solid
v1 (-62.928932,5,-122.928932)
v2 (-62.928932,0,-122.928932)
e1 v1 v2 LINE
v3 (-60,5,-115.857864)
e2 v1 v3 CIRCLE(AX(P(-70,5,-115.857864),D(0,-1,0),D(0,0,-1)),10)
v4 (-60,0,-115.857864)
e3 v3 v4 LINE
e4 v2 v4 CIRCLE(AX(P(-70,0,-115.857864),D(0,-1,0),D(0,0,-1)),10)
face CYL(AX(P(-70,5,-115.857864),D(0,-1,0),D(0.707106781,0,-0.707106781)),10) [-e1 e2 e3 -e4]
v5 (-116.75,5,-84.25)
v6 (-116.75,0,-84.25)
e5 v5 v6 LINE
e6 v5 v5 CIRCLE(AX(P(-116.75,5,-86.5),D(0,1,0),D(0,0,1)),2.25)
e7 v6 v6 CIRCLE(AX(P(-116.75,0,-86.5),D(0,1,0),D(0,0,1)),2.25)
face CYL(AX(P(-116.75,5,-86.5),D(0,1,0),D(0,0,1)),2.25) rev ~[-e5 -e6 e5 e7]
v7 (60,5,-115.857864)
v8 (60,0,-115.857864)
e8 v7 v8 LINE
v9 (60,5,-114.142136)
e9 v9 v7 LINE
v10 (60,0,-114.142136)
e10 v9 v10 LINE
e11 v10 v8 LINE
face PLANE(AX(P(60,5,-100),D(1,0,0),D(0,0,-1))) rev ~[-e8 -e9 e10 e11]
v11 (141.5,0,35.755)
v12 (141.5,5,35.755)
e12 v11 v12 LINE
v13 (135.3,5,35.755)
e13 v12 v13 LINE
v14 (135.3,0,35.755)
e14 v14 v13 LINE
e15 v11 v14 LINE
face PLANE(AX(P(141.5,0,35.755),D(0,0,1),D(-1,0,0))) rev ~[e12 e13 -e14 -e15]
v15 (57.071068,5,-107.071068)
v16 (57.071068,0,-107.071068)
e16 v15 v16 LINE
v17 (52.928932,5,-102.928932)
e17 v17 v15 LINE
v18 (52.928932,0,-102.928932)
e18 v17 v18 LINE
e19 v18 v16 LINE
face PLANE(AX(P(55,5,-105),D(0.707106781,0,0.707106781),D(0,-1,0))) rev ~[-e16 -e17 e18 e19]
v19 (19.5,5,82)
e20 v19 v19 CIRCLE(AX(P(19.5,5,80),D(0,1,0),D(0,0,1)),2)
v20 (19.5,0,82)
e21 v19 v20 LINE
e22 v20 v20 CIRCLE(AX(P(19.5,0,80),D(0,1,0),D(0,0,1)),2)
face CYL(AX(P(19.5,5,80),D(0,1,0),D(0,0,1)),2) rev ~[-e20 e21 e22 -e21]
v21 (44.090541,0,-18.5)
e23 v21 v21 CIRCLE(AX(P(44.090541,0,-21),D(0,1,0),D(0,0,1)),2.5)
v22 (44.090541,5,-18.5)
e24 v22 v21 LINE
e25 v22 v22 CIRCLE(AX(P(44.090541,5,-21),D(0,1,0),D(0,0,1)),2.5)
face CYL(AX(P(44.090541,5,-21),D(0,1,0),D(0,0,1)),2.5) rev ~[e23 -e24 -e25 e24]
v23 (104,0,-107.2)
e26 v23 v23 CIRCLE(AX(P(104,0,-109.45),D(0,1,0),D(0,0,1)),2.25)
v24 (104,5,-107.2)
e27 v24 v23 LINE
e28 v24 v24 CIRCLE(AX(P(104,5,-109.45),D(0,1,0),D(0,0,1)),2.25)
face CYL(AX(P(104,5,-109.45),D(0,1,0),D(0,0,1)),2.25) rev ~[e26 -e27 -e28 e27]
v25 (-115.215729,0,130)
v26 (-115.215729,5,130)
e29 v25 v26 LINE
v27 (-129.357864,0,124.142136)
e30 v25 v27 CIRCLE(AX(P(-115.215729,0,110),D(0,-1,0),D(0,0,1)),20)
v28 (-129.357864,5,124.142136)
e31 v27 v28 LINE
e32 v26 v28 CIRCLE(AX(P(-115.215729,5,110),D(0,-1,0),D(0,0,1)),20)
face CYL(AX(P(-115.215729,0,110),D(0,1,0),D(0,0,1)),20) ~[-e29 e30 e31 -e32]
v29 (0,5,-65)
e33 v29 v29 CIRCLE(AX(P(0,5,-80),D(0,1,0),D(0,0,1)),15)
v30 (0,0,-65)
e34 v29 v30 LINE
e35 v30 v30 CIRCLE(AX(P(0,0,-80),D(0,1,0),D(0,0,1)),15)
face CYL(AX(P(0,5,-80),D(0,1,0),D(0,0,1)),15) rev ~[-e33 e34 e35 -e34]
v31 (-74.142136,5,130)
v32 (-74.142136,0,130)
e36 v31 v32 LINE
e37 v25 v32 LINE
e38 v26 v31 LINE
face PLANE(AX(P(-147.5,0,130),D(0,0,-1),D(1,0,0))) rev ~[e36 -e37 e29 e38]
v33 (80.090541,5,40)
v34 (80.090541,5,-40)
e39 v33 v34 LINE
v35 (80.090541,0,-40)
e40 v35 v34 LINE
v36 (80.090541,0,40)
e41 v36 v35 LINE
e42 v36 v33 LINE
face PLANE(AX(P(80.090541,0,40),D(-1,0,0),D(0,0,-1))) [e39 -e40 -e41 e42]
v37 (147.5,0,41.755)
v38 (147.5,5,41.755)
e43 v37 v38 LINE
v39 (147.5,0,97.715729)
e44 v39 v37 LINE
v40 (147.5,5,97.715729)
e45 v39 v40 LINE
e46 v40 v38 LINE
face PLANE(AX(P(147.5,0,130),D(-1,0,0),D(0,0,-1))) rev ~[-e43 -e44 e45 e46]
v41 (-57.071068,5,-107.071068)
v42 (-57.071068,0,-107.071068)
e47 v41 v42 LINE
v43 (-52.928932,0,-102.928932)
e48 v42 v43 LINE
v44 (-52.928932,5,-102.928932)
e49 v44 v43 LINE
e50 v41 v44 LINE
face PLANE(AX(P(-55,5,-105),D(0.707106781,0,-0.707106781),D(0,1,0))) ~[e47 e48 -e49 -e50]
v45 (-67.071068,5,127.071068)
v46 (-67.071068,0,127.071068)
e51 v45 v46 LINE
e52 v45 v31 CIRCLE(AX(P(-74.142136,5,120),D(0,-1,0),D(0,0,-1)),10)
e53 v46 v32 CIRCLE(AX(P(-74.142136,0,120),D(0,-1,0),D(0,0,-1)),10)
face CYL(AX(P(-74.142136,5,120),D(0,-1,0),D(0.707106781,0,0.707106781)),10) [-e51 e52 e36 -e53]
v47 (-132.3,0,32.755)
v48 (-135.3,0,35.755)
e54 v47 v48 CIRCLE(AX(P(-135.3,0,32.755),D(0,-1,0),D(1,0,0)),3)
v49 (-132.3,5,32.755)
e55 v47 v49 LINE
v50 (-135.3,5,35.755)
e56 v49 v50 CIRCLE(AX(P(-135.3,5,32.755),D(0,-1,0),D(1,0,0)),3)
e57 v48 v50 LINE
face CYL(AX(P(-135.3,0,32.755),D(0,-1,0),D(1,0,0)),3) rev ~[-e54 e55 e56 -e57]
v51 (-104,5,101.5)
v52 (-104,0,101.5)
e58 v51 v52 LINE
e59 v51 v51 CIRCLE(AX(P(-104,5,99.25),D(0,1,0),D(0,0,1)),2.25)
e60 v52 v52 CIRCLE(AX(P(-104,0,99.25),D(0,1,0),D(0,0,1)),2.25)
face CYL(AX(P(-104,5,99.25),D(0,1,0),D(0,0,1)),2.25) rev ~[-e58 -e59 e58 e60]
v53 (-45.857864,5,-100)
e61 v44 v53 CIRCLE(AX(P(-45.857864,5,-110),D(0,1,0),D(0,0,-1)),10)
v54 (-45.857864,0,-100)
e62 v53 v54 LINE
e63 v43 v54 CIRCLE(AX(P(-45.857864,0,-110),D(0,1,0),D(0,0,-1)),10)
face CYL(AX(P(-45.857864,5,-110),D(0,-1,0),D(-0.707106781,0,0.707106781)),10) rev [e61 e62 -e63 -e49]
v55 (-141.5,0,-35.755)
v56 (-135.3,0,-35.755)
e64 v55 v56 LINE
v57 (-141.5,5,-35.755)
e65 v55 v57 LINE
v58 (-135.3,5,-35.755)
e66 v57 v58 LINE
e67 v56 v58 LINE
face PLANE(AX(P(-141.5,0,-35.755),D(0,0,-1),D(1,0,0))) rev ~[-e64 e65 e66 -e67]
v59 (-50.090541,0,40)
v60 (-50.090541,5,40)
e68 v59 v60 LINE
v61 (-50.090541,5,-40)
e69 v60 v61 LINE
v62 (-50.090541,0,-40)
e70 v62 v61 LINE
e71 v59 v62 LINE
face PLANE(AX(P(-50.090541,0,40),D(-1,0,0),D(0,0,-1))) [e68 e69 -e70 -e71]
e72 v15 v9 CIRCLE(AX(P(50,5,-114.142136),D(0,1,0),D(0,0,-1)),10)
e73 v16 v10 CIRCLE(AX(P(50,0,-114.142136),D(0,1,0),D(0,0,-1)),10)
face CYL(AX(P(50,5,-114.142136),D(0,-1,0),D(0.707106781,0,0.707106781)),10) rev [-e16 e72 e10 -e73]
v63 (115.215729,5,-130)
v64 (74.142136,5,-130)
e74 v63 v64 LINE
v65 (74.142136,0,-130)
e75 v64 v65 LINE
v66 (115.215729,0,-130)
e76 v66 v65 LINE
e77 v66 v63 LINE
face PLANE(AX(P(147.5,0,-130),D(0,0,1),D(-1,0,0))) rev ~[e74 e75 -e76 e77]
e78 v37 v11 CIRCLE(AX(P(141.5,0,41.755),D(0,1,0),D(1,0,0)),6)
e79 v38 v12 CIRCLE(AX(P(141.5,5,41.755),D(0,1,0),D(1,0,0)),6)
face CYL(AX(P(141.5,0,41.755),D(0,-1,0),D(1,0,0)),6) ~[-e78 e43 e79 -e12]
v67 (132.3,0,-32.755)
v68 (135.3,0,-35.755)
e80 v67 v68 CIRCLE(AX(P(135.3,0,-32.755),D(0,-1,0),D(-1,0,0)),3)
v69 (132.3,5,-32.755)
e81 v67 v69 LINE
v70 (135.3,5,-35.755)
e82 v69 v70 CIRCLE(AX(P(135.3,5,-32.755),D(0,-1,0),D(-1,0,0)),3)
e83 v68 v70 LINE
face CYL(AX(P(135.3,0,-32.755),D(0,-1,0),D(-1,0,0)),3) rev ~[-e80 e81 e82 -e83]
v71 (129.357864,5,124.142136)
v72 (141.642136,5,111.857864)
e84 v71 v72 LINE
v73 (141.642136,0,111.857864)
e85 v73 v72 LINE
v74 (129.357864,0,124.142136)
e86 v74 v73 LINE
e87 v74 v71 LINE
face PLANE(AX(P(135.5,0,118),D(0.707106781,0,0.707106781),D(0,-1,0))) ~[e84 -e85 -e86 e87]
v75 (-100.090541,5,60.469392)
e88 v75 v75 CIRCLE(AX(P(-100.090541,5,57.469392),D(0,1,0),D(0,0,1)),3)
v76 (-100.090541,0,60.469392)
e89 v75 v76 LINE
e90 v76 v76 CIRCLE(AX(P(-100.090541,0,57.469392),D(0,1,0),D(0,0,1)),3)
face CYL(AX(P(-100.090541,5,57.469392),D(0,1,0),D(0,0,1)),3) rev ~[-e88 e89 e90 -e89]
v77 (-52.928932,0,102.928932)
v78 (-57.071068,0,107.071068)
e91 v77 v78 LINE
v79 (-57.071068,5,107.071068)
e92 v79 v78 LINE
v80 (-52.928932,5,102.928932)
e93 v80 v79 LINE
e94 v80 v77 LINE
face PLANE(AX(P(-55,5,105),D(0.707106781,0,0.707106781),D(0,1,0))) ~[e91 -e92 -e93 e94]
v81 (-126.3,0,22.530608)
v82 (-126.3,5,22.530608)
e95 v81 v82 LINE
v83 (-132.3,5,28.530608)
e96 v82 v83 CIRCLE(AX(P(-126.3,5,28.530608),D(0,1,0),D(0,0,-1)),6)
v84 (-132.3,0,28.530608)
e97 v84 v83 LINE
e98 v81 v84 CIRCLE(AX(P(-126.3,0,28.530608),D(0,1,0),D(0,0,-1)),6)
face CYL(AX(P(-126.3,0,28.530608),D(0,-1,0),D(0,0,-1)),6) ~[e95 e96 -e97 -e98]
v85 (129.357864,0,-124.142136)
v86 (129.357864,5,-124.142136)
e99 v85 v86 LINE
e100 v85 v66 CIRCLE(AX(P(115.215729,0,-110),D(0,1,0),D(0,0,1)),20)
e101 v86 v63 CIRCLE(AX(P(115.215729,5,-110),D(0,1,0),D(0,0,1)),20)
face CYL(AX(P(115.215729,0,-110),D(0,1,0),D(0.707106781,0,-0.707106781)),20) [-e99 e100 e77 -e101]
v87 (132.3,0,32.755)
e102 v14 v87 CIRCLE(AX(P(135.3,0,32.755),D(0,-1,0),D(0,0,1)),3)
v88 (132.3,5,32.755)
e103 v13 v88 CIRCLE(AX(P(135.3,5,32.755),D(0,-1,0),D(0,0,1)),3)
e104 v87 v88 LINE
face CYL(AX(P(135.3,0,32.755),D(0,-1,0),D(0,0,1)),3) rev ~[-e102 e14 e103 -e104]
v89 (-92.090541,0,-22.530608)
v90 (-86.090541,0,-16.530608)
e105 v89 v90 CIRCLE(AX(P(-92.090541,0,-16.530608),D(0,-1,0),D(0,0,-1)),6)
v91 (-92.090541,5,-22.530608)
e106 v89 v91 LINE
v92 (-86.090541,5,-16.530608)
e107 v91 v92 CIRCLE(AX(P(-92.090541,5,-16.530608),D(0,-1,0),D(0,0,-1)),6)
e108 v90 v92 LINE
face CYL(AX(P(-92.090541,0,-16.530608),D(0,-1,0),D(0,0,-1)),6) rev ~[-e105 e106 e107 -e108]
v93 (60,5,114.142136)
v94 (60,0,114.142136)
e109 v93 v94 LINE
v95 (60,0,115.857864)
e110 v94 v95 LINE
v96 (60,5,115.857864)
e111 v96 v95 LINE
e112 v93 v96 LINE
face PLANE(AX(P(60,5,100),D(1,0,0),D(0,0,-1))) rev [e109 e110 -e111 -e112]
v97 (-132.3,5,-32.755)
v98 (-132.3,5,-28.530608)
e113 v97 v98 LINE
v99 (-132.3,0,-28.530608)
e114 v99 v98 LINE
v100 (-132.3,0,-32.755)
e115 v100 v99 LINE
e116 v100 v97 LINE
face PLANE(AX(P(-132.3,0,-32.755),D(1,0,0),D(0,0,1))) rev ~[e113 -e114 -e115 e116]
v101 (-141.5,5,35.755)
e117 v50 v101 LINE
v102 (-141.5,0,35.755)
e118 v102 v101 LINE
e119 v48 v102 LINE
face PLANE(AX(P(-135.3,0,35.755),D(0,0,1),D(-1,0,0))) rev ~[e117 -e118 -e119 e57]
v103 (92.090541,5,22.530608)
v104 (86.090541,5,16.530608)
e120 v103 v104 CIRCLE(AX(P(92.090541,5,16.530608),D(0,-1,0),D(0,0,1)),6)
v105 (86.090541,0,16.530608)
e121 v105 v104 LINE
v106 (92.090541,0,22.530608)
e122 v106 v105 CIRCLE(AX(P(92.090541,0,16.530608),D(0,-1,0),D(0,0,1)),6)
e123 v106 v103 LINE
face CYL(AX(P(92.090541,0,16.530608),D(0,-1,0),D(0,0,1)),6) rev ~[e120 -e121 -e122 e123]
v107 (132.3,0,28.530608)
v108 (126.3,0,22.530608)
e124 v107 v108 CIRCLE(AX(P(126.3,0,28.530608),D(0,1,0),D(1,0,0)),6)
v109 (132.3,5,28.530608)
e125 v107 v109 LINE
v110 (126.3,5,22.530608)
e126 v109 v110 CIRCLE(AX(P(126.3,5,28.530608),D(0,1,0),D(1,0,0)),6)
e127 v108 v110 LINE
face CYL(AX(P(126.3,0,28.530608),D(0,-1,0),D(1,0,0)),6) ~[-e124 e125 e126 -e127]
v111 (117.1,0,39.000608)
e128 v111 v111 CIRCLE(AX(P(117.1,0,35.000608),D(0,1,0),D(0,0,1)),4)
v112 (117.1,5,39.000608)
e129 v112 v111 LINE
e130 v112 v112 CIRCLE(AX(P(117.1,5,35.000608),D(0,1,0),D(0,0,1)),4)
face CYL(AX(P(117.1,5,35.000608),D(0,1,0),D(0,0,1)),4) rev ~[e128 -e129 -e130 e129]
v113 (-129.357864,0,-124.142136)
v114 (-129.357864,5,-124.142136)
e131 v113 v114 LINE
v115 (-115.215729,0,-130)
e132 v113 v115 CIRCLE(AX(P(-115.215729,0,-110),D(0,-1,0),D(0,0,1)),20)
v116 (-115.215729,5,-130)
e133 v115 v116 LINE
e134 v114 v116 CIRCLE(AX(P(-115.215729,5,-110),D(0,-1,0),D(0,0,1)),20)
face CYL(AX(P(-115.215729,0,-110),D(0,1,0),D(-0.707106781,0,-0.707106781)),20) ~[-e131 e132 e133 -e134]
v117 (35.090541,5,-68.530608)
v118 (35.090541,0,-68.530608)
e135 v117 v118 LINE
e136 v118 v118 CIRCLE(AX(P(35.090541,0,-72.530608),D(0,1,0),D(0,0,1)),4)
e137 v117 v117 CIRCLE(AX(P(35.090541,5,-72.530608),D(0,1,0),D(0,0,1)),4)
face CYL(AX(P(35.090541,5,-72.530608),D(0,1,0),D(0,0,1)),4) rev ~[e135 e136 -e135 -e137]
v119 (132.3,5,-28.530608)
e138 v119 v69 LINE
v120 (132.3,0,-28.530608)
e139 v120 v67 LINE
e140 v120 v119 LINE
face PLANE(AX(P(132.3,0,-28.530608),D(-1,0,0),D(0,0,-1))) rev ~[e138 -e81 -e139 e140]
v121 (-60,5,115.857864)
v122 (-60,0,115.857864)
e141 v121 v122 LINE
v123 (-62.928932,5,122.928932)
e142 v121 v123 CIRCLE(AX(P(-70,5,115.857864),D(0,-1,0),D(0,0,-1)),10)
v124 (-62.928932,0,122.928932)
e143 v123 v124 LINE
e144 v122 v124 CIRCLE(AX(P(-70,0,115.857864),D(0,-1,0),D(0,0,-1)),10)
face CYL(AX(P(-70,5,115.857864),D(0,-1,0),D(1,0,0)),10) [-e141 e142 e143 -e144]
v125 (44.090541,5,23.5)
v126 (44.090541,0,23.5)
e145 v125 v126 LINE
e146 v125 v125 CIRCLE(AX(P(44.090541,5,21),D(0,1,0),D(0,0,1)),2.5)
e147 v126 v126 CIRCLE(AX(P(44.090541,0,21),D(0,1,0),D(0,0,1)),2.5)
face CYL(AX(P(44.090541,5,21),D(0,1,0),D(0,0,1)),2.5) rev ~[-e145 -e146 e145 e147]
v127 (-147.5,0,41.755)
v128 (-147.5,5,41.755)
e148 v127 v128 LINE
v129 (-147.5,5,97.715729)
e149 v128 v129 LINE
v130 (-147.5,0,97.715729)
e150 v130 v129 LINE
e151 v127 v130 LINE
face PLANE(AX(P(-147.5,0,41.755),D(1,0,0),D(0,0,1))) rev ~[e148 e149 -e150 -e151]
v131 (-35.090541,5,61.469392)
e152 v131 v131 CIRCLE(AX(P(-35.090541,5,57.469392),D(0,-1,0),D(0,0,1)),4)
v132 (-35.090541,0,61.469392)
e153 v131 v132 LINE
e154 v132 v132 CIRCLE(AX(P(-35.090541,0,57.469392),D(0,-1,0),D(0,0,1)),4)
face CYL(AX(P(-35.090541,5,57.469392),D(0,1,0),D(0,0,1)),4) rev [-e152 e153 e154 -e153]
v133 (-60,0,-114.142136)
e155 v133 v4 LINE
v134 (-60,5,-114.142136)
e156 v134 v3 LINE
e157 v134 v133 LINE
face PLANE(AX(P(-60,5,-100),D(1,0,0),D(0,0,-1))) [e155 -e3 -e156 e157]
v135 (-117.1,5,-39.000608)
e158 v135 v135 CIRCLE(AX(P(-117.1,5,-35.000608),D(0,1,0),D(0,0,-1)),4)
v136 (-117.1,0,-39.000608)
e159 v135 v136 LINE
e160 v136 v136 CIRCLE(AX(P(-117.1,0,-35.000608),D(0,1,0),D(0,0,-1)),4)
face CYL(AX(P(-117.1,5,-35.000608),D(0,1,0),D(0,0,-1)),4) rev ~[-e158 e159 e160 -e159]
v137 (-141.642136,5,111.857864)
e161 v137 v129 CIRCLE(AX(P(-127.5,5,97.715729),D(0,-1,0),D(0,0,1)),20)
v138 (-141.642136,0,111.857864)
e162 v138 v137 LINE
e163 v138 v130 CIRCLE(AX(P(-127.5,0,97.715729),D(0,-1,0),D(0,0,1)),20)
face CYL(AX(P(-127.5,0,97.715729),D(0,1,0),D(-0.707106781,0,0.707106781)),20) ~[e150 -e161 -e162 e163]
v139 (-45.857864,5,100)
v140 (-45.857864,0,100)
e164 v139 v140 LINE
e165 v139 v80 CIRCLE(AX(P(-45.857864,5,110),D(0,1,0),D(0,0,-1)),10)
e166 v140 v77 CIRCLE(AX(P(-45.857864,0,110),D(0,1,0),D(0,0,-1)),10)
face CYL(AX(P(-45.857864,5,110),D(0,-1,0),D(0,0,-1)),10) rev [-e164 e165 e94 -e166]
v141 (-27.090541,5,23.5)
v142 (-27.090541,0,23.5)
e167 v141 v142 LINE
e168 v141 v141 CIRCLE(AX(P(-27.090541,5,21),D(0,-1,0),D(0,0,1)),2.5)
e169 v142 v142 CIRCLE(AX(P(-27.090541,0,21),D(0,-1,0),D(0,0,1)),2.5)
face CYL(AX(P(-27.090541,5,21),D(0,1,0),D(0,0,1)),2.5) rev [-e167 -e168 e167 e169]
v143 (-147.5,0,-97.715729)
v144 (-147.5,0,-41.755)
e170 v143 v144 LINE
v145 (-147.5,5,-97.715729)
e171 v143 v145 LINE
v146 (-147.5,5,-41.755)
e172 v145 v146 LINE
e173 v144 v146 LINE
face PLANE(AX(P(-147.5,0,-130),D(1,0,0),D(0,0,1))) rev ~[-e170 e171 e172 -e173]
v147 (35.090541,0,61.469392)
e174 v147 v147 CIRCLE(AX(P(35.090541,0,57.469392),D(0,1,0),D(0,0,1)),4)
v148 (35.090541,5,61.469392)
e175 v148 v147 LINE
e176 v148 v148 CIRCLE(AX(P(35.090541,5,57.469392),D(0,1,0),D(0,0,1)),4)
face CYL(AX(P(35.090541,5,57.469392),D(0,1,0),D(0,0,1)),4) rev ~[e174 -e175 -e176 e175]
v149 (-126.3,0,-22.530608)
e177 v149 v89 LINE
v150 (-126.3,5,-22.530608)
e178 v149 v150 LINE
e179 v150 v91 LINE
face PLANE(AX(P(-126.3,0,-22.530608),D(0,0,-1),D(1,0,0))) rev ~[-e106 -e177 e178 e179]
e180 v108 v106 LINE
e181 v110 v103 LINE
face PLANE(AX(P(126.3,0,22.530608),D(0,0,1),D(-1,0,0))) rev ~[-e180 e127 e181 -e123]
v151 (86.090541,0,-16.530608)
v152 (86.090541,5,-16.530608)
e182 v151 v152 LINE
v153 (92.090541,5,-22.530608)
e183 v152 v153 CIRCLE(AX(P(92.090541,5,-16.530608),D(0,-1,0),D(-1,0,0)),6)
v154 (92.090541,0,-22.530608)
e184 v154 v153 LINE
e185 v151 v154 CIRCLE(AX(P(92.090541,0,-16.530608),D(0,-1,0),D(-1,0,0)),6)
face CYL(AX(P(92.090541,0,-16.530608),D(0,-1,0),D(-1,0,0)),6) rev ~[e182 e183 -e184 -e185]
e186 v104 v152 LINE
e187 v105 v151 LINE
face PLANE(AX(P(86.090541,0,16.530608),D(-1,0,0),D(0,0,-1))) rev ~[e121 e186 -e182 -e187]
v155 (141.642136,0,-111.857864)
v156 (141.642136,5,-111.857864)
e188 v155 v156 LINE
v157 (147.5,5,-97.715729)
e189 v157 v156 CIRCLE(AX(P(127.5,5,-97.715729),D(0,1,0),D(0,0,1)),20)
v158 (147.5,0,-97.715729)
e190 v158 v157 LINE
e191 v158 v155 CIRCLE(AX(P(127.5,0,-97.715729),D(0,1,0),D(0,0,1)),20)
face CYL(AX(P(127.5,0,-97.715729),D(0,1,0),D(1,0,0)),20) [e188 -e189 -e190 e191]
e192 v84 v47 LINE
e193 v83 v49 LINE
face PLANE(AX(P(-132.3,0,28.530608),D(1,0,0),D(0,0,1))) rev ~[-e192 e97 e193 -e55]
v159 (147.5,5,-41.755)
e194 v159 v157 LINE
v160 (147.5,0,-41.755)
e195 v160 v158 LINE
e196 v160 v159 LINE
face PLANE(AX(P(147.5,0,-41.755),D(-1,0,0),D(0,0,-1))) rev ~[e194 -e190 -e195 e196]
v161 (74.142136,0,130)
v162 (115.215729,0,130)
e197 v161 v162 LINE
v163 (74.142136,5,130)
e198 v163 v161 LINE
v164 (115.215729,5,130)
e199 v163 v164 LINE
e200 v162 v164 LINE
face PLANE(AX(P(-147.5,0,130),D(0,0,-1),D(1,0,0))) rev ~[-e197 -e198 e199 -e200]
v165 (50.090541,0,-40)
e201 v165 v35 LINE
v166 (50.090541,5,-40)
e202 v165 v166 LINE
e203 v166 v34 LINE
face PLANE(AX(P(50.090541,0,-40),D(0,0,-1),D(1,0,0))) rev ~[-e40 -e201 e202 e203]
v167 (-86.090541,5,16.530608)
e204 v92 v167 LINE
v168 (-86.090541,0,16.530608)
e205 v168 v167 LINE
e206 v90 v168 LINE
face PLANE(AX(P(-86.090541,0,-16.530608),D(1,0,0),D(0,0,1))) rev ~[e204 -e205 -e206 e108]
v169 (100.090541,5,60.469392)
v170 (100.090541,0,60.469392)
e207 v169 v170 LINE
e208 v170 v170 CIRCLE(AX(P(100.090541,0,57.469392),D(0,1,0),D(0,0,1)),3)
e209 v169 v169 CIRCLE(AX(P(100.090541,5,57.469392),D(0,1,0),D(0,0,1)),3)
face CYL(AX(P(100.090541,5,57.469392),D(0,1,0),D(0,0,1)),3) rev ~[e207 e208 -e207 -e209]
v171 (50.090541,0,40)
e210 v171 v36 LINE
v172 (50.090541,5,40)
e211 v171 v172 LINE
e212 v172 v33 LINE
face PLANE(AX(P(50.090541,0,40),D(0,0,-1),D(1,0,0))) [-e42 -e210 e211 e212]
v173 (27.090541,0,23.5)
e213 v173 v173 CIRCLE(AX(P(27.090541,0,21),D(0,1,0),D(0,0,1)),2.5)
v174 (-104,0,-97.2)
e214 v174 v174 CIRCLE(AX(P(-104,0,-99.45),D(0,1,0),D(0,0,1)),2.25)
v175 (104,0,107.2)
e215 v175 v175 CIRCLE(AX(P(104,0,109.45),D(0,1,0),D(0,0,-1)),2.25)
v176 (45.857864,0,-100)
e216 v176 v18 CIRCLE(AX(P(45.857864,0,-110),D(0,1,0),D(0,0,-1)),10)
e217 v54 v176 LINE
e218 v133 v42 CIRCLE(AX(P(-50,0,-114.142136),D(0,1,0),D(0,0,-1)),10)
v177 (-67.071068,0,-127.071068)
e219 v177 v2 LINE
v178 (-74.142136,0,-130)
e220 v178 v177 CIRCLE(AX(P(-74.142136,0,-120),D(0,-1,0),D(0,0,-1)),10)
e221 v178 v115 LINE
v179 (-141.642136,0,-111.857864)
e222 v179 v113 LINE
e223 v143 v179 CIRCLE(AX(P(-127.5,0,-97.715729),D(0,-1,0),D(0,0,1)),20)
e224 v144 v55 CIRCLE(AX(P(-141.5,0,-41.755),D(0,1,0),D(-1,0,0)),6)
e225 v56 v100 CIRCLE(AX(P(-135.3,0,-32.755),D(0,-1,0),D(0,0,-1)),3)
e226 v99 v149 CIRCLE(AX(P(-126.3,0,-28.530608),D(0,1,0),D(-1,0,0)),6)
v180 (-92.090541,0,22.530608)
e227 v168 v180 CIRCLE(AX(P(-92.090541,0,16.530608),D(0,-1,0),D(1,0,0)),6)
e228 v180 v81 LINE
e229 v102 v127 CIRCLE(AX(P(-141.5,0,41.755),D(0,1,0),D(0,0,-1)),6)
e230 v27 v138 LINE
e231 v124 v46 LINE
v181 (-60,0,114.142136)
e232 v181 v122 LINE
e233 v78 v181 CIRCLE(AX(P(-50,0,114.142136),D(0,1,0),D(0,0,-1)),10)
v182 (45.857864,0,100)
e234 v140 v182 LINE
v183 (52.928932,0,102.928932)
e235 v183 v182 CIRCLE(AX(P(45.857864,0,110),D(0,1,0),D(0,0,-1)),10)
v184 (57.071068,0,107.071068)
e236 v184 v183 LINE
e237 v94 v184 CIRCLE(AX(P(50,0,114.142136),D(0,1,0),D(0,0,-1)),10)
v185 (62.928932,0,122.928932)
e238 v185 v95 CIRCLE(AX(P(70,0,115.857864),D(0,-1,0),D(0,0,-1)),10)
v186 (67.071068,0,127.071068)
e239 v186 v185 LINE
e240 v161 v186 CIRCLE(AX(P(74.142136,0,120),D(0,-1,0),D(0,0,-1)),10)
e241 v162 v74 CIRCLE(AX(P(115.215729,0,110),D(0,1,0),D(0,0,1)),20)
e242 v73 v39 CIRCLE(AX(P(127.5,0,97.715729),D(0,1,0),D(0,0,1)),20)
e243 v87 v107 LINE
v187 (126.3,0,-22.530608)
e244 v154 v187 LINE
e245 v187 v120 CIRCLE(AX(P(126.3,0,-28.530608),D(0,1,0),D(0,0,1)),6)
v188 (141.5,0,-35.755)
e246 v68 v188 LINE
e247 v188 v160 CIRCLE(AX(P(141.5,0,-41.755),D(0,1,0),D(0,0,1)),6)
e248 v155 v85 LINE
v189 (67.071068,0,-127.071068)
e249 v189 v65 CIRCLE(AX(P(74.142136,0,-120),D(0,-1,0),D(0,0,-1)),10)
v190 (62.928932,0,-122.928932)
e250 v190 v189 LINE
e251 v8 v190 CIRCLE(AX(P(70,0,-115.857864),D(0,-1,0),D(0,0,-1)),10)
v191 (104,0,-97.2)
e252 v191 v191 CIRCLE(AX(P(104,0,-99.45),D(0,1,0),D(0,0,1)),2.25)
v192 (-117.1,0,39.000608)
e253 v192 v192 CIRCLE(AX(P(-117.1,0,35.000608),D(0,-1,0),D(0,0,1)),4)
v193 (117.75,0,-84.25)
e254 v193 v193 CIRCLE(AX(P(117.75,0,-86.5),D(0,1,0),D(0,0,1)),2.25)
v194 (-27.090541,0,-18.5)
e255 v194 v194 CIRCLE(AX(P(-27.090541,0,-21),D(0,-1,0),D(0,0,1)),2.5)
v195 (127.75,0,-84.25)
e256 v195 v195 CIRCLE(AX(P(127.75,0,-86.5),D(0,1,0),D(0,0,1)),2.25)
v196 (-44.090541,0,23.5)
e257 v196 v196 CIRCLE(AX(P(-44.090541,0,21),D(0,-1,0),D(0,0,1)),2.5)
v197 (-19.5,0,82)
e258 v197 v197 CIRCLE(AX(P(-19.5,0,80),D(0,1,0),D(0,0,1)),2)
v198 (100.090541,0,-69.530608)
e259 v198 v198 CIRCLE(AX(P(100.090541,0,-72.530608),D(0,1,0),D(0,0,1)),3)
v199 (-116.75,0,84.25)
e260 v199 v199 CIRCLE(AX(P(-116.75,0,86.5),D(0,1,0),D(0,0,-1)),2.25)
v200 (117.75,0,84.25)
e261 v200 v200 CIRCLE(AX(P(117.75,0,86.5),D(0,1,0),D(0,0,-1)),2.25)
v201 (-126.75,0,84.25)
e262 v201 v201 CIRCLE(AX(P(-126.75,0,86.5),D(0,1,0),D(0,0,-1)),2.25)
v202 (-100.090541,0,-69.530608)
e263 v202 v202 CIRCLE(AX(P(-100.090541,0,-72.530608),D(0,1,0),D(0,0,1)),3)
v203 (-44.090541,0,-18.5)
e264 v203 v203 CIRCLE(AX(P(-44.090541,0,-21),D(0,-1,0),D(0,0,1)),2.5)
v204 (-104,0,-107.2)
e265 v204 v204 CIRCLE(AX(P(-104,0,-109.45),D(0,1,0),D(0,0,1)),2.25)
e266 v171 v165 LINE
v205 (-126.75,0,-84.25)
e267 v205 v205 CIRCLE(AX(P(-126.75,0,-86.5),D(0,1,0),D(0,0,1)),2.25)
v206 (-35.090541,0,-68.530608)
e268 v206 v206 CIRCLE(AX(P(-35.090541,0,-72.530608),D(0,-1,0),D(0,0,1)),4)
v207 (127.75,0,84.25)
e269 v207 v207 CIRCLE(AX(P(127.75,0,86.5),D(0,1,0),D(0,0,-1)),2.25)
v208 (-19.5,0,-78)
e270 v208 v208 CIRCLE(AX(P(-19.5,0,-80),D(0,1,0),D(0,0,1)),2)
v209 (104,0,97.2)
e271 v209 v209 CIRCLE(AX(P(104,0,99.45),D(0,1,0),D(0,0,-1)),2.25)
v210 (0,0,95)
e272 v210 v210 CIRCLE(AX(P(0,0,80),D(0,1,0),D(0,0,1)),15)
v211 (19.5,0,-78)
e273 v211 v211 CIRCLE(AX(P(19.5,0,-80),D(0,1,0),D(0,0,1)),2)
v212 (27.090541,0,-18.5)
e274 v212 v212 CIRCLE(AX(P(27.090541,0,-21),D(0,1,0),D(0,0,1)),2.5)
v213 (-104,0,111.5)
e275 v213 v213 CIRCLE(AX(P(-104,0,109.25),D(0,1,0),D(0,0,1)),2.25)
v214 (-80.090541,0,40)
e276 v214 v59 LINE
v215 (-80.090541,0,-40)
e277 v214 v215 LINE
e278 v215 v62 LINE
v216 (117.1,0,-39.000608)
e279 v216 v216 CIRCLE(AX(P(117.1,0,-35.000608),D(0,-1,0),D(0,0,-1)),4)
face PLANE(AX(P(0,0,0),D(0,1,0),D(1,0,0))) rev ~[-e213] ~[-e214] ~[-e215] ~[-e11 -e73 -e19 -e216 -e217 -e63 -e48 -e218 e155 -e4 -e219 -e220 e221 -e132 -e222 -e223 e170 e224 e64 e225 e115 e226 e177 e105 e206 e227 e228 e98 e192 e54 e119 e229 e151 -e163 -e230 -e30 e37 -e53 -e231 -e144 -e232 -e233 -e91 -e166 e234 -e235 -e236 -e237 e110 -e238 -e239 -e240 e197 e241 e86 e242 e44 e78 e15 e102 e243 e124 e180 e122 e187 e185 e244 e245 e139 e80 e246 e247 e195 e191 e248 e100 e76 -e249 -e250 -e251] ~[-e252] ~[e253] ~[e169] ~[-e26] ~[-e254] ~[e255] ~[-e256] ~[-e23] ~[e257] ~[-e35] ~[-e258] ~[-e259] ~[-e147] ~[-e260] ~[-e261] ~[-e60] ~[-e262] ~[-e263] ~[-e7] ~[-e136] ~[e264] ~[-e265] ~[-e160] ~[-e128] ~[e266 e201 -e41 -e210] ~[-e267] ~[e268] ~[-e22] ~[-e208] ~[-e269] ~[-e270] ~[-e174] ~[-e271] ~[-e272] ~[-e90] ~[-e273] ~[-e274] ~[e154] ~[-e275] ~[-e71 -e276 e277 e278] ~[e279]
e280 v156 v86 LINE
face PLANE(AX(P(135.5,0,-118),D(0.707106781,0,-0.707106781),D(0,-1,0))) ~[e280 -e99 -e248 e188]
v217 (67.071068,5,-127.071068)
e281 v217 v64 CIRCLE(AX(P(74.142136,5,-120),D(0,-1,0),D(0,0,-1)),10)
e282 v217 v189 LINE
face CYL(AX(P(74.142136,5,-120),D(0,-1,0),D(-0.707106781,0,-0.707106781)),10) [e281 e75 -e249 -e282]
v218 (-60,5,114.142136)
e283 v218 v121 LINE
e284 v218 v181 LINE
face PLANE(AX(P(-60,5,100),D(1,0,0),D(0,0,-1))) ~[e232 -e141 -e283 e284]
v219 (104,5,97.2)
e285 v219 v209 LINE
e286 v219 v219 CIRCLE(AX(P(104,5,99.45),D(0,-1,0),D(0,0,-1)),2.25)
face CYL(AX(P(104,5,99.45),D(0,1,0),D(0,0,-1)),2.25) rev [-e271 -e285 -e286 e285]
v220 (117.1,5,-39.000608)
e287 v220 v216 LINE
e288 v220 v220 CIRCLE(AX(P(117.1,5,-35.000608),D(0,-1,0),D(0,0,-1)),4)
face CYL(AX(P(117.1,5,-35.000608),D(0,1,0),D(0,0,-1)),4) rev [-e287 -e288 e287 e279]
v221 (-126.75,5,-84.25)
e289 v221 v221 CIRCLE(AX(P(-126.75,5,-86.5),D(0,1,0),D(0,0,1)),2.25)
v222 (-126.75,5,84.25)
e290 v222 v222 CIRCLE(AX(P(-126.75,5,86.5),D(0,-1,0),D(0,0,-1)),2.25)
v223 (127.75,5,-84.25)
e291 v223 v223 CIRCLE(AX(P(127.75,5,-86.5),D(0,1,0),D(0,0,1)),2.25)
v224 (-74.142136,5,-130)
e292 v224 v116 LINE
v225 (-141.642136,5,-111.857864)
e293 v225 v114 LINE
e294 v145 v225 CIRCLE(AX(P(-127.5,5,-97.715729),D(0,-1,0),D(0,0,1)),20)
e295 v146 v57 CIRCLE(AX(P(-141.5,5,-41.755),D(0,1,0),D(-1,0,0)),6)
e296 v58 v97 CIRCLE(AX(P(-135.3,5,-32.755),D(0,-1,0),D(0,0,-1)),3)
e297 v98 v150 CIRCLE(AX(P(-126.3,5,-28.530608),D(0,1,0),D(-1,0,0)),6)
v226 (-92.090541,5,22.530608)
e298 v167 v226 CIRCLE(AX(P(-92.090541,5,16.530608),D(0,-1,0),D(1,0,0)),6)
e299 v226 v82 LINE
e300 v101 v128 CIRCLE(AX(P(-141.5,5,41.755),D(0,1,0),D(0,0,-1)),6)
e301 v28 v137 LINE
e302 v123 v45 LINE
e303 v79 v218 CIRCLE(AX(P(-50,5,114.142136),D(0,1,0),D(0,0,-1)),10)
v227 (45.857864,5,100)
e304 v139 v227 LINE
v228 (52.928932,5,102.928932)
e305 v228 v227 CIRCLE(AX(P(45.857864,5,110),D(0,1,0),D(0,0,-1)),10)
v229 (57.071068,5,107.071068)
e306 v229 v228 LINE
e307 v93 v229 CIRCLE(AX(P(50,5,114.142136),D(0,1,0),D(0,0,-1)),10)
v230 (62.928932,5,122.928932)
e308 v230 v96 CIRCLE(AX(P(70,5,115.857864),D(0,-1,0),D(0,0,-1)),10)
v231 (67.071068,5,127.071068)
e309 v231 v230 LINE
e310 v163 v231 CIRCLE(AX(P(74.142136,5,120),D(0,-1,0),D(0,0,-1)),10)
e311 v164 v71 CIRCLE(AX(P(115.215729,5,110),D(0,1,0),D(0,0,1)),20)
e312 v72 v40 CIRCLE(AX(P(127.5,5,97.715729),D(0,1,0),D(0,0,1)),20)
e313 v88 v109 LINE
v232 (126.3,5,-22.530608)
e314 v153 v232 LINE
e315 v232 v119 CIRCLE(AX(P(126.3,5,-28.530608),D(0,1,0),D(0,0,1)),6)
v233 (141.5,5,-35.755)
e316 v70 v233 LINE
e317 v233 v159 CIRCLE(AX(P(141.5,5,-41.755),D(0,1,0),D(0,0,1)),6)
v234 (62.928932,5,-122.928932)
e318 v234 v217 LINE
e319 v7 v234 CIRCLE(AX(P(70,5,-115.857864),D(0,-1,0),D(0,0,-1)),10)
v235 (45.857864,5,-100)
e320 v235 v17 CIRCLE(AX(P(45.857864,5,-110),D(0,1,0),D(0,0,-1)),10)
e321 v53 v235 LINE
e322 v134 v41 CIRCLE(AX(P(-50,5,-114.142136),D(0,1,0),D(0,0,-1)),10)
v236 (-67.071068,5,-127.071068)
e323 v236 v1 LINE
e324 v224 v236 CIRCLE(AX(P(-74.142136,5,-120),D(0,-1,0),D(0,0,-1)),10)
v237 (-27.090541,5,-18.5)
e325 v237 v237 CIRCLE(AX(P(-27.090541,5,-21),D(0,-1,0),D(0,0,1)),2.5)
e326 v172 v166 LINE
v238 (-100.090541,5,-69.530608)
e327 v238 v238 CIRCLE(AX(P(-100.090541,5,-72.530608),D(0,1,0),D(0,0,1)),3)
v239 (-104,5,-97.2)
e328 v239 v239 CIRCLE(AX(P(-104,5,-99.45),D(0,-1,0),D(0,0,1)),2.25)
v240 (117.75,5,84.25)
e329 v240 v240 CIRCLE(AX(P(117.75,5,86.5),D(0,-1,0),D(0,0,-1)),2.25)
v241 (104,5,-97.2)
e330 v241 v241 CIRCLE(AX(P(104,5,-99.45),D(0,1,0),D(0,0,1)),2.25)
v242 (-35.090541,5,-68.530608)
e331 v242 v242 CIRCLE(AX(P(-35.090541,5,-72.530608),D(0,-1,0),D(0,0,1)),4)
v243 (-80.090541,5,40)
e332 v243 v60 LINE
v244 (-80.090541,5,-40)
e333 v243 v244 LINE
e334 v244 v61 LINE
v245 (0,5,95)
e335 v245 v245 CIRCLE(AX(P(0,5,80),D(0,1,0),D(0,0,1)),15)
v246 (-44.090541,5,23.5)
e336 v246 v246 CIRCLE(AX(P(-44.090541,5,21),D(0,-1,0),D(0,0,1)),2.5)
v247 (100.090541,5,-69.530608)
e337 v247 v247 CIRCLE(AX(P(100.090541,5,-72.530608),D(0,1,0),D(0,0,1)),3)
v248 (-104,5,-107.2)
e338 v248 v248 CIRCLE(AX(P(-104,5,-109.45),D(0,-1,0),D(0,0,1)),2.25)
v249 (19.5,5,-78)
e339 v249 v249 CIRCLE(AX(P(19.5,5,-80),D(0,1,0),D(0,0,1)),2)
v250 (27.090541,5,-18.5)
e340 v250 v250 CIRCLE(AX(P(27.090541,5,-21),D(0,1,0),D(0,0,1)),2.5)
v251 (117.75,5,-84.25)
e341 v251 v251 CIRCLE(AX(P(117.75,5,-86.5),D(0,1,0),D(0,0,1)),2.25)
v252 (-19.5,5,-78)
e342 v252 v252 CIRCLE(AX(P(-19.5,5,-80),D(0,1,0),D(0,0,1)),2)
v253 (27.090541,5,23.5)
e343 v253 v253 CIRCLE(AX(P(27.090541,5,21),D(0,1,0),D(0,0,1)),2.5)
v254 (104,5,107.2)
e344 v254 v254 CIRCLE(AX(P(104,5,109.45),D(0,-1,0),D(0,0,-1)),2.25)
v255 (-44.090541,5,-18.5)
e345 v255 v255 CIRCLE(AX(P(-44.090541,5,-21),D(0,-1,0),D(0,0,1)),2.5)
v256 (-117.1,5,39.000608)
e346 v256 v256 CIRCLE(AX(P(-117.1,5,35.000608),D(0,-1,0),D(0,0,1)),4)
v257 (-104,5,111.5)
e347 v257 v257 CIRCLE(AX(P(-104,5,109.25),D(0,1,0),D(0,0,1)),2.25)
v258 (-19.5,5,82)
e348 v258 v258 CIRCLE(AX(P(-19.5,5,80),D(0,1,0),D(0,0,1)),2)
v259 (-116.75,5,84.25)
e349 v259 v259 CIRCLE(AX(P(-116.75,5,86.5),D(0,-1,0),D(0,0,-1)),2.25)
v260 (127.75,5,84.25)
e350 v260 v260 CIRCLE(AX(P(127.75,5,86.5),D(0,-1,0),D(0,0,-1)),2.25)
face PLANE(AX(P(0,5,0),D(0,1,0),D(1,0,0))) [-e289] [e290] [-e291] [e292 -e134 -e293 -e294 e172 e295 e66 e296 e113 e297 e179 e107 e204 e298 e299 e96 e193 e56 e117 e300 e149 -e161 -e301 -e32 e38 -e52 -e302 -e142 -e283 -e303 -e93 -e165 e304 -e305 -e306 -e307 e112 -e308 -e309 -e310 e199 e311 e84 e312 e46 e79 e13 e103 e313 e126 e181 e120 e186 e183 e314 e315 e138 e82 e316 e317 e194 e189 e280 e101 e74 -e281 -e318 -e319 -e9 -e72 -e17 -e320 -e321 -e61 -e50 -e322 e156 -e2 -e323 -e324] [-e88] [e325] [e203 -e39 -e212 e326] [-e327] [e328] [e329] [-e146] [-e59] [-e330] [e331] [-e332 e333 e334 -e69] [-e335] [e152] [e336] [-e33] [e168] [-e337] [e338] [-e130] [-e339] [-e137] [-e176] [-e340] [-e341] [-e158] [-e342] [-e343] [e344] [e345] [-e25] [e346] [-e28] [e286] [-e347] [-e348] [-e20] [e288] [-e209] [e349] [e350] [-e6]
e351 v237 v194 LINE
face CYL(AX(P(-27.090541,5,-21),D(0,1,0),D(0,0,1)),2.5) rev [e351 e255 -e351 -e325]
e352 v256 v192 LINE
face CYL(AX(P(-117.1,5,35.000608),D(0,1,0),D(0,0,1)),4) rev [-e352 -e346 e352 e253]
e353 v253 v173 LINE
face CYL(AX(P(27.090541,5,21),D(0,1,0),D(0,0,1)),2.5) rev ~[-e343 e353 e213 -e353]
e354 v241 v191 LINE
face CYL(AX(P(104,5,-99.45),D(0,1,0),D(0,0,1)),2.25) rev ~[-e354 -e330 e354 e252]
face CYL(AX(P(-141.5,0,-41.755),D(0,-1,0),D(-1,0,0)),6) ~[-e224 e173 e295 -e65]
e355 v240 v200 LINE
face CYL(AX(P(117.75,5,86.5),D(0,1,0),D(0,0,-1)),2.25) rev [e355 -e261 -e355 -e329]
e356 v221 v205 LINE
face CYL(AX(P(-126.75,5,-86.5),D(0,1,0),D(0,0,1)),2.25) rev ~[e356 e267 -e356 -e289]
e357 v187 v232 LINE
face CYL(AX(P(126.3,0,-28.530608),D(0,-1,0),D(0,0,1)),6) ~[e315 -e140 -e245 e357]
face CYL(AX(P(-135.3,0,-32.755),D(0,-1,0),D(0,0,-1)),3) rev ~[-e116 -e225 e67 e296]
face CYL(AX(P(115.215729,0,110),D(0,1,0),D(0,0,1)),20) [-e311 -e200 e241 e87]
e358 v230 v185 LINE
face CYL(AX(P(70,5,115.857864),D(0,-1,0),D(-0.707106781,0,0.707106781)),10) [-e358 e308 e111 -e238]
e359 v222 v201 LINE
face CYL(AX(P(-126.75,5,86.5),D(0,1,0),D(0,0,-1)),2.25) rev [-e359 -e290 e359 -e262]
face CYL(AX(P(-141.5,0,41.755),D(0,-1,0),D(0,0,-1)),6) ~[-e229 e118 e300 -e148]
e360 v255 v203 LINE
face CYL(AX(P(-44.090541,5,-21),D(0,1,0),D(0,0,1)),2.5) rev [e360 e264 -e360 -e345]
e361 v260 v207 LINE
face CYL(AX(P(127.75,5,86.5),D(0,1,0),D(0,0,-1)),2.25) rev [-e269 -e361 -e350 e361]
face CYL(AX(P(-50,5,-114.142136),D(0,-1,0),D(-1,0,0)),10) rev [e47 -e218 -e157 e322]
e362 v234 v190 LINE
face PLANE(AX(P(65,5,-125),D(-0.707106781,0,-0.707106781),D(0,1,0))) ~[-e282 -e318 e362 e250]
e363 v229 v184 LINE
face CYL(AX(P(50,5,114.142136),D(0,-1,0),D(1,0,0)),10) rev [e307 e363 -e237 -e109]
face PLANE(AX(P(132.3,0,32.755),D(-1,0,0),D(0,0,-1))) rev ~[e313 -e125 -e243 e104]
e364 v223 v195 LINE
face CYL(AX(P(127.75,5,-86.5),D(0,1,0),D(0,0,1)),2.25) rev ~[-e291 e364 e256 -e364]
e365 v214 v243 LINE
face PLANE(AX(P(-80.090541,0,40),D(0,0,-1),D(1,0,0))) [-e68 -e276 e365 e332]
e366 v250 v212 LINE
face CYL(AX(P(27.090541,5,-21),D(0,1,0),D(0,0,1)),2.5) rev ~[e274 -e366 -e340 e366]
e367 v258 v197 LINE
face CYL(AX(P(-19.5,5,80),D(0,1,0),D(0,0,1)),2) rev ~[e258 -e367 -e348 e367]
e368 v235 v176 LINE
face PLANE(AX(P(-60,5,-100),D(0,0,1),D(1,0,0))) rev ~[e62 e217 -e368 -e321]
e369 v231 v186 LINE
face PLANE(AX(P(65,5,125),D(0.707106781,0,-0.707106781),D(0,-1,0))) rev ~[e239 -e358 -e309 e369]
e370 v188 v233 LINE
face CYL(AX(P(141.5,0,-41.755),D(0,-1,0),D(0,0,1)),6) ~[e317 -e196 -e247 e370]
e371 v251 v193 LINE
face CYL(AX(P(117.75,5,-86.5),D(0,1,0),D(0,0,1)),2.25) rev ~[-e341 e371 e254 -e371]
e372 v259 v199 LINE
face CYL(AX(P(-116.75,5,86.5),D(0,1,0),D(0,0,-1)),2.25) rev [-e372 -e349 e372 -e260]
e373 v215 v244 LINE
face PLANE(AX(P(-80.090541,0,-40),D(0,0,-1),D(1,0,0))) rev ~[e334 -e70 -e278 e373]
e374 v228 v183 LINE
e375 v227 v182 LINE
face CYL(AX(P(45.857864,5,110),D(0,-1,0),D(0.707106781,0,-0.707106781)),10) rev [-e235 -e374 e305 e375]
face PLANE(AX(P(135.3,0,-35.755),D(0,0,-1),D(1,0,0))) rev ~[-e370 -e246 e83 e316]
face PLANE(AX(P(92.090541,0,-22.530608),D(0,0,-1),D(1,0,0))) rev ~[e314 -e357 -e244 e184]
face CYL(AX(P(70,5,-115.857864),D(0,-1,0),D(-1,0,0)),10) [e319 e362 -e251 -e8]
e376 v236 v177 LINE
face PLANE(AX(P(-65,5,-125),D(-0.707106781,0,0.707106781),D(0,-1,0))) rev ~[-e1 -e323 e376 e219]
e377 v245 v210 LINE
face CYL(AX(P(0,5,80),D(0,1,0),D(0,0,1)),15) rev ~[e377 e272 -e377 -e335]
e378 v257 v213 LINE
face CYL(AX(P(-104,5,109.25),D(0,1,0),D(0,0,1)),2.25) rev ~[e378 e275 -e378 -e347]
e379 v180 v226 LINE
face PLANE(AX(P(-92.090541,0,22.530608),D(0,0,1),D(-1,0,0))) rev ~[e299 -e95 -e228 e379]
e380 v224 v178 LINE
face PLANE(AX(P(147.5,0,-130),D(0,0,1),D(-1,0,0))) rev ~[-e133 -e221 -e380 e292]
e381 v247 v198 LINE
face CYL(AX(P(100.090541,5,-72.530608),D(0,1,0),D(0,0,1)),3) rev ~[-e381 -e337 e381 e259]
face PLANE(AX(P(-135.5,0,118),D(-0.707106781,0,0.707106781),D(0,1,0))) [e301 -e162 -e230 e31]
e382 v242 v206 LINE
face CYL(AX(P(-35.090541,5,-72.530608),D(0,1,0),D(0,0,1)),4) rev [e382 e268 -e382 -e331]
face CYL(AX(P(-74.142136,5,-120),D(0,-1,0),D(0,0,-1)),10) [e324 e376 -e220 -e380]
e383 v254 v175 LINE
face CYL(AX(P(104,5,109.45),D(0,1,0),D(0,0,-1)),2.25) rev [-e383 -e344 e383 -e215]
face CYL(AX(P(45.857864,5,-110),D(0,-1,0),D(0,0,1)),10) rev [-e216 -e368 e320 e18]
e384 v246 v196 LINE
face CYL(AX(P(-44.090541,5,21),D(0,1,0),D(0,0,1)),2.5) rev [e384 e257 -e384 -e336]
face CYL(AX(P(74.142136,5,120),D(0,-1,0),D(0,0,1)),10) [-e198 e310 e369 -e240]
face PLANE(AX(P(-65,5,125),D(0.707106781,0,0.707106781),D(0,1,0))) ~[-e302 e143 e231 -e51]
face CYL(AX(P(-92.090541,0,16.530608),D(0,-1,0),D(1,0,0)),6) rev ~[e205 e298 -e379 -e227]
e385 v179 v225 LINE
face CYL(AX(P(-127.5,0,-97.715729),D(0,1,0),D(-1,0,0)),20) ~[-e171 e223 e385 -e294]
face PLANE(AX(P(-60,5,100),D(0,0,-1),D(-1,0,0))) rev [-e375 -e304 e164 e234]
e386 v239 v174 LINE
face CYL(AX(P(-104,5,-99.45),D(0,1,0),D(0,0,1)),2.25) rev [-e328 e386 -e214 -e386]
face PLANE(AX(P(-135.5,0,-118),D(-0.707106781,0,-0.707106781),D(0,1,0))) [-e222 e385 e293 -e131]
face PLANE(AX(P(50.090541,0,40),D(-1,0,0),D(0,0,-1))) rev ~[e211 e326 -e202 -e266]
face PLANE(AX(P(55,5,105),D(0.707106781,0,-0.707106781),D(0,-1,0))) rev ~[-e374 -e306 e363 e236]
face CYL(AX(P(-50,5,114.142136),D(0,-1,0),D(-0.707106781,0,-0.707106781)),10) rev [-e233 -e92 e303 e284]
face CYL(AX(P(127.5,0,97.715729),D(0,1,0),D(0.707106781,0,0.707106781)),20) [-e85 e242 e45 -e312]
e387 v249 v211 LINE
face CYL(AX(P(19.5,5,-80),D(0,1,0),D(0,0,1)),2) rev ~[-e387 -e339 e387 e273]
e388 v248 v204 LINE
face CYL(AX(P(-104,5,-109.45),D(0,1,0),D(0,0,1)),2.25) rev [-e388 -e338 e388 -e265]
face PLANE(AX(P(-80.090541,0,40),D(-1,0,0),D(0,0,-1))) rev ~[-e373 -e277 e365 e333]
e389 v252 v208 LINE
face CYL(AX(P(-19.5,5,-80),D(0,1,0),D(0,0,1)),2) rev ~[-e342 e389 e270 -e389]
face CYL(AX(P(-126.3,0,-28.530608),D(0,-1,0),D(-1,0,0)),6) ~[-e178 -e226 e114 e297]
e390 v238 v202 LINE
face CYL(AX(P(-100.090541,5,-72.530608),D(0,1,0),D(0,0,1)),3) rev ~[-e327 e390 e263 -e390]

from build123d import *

# Parameters (mm, degrees)
SKETCH2_W                                     = 30
SKETCH2_H                                     = 80
BASE_DEPTH                                    = 5
SKETCH3_R                                     = 4
ENCODER_MOUNTING_ORIGINAL_BR_DEPTH            = 5
ENCODER_MOUNTING_SYM_XL_COPY_1_SKETCH_R       = 4
ENCODER_MOUNTING_SYM_XL_COPY_1_DEPTH          = 5
SKETCH4_R                                     = 2.5
WHEEL_GUIDES_MOUNTING_ORIGINAL_XR_DEPTH       = 5
SKETCH6_R                                     = 3
FRAME_MOUNTING_DEPTH                          = 5
SKETCH5_R                                     = 4
SUPPORT_MOTEUR_MOUNTING_INSIDE_ORIGINAL_DEPTH = 5
SKETCH13_R                                    = 15
SKETCH13_R_2                                  = 2
SCROLLERS_MOUNTINGS_DEPTH                     = 5
CHAMFER1_SIZE                                 = 24
FILLET1_R                                     = 20
ESQUISSE1_W                                   = 120
ESQUISSE1_H                                   = 30
ENL_V_MAT_EXTRU_1_DEPTH                       = 197.675494152
CHANFREIN1_SIZE                               = 10
CONG_1_R                                      = 10
CHANFREIN2_SIZE                               = 10
CONG_2_R                                      = 10
ESQUISSE2_R                                   = 2.25
ENL_V_MAT_EXTRU_2_DEPTH                       = 197.675494152
ESQUISSE3_R                                   = 2.25
ENL_V_MAT_EXTRU_3_DEPTH                       = 197.675494152
ESQUISSE4_R                                   = 2.25
ENL_V_MAT_EXTRU_4_DEPTH                       = 197.675494152
ESQUISSE5_R                                   = 2.25
ENL_V_MAT_EXTRU_5_DEPTH                       = 197.675494152


with BuildPart() as part:
    # Sketch2 → Base (new body)
    with BuildSketch(Plane(origin=(0, 0, 0), x_dir=(1, 0, 0), z_dir=(0, 1, 0))):
        with BuildLine():
            Line((-147.5, -130), (147.5, -130))
            Line((147.5, -130), (147.5, -41.75500004))
            ThreePointArc((147.5, -41.75500004), (145.742640687, -37.512359353), (141.5, -35.75500004))
            Line((141.5, -35.75500004), (135.3, -35.75500004))
            ThreePointArc((135.3, -35.75500004), (133.178679656, -34.876320383), (132.3, -32.75500004))
            Line((132.3, -32.75500004), (132.3, -28.530608474))
            ThreePointArc((132.3, -28.530608474), (130.542640675, -24.287967759), (126.29999996, -22.530608435))
            Line((126.29999996, -22.530608435), (92.090541187, -22.530608435))
            ThreePointArc((92.090541187, -22.530608435), (87.8479005, -20.773249122), (86.090541187, -16.530608435))
            Line((86.090541187, -16.530608435), (86.090541187, 16.530608435))
            ThreePointArc((86.090541187, 16.530608435), (87.8479005, 20.773249122), (92.090541187, 22.530608435))
            Line((92.090541187, 22.530608435), (126.29999996, 22.530608435))
            ThreePointArc((126.29999996, 22.530608435), (130.542640675, 24.287967759), (132.3, 28.530608474))
            Line((132.3, 28.530608474), (132.3, 32.75500004))
            ThreePointArc((132.3, 32.75500004), (133.178679656, 34.876320383), (135.3, 35.75500004))
            Line((135.3, 35.75500004), (141.5, 35.75500004))
            ThreePointArc((141.5, 35.75500004), (145.742640687, 37.512359353), (147.5, 41.75500004))
            Line((147.5, 41.75500004), (147.5, 130))
            Line((147.5, 130), (-147.5, 130))
            Line((-147.5, 130), (-147.5, 41.75500004))
            ThreePointArc((-147.5, 41.75500004), (-145.742640687, 37.512359353), (-141.5, 35.75500004))
            Line((-141.5, 35.75500004), (-135.3, 35.75500004))
            ThreePointArc((-135.3, 35.75500004), (-133.178679656, 34.876320383), (-132.3, 32.75500004))
            Line((-132.3, 32.75500004), (-132.3, 28.530608474))
            ThreePointArc((-132.3, 28.530608474), (-130.542640675, 24.287967759), (-126.29999996, 22.530608435))
            Line((-126.29999996, 22.530608435), (-92.090541187, 22.530608435))
            ThreePointArc((-92.090541187, 22.530608435), (-87.8479005, 20.773249122), (-86.090541187, 16.530608435))
            Line((-86.090541187, 16.530608435), (-86.090541187, -16.530608435))
            ThreePointArc((-86.090541187, -16.530608435), (-87.8479005, -20.773249122), (-92.090541187, -22.530608435))
            Line((-92.090541187, -22.530608435), (-126.29999996, -22.530608435))
            ThreePointArc((-126.29999996, -22.530608435), (-130.542640675, -24.287967759), (-132.3, -28.530608474))
            Line((-132.3, -28.530608474), (-132.3, -32.75500004))
            ThreePointArc((-132.3, -32.75500004), (-133.178679656, -34.876320383), (-135.3, -35.75500004))
            Line((-135.3, -35.75500004), (-141.5, -35.75500004))
            ThreePointArc((-141.5, -35.75500004), (-145.742640687, -37.512359353), (-147.5, -41.75500004))
            Line((-147.5, -41.75500004), (-147.5, -130))
        make_face()
        with Locations((65.090541187, 0)):
            Rectangle(SKETCH2_W, SKETCH2_H, mode=Mode.SUBTRACT)
        with Locations((-65.090541187, 0)):
            Rectangle(SKETCH2_W, SKETCH2_H, mode=Mode.SUBTRACT)
    extrude(amount=BASE_DEPTH)

    # Sketch3 → Encoder Mounting-Original_BR (cut)
    with BuildSketch(Plane(origin=(0, 5, 0), x_dir=(1, 0, 0), z_dir=(0, 1, 0))):
        with Locations(Location((117.1, -35.000608435, 0), (0, 0, 270))):
            Circle(SKETCH3_R)
    encoder_mounting_original_br = extrude(amount=-ENCODER_MOUNTING_ORIGINAL_BR_DEPTH, mode=Mode.SUBTRACT)

    # Encoder Mounting-Sym_FR: Encoder Mounting-Original_BR across plane
    add(encoder_mounting_original_br.mirror(Plane(origin=(0, 0, 0), x_dir=(1, 0, 0), z_dir=(0, 0, -1))), mode=Mode.SUBTRACT)

    # Encoder Mounting-Sym_xL: Encoder Mounting-Original_BR across plane
    add(encoder_mounting_original_br.mirror(Plane(origin=(0, 0, 0), x_dir=(0, 0, 1), z_dir=(1, 0, 0))), mode=Mode.SUBTRACT)

    # Encoder Mounting-Sym_xL copy 1 sketch → Encoder Mounting-Sym_xL copy 1 (cut)
    with BuildSketch(Plane(origin=(0, 5, 0), x_dir=(-1, 0, 0), z_dir=(0, 1, 0))):
        with Locations(Location((117.1, -35.000608435, 0), (0, 0, 270))):
            Circle(ENCODER_MOUNTING_SYM_XL_COPY_1_SKETCH_R)
    extrude(amount=-ENCODER_MOUNTING_SYM_XL_COPY_1_DEPTH, mode=Mode.SUBTRACT)

    # Sketch4 → Wheel Guides Mounting-Original_xR (cut)
    with BuildSketch(Plane(origin=(0, 5, 0), x_dir=(1, 0, 0), z_dir=(0, 1, 0))):
        with Locations(Location((44.090541187, -21, 0), (0, 0, 270))):
            Circle(SKETCH4_R)
        with Locations(Location((27.090541187, -21, 0), (0, 0, 270))):
            Circle(SKETCH4_R)
        with Locations(Location((27.090541187, 21, 0), (0, 0, 270))):
            Circle(SKETCH4_R)
        with Locations(Location((44.090541187, 21, 0), (0, 0, 270))):
            Circle(SKETCH4_R)
    wheel_guides_mounting_original_xr = extrude(amount=-WHEEL_GUIDES_MOUNTING_ORIGINAL_XR_DEPTH, mode=Mode.SUBTRACT)

    # Wheel Guides Mounting-Sym_xL: Wheel Guides Mounting-Original_xR across plane
    add(wheel_guides_mounting_original_xr.mirror(Plane(origin=(0, 0, 0), x_dir=(0, 0, 1), z_dir=(1, 0, 0))), mode=Mode.SUBTRACT)

    # Sketch6 → Frame Mounting (cut)
    with BuildSketch(Plane(origin=(0, 5, 0), x_dir=(1, 0, 0), z_dir=(0, 1, 0))):
        with Locations(Location((100.090541187, -57.469391565, 0), (0, 0, 270))):
            Circle(SKETCH6_R)
        with Locations(Location((-100.090541187, -57.469391565, 0), (0, 0, 270))):
            Circle(SKETCH6_R)
        with Locations(Location((100.090541187, 72.530608435, 0), (0, 0, 270))):
            Circle(SKETCH6_R)
        with Locations(Location((-100.090541187, 72.530608435, 0), (0, 0, 270))):
            Circle(SKETCH6_R)
    extrude(amount=-FRAME_MOUNTING_DEPTH, mode=Mode.SUBTRACT)

    # Sketch5 → Support Moteur Mounting Inside-Original (cut)
    with BuildSketch(Plane(origin=(0, 5, 0), x_dir=(1, 0, 0), z_dir=(0, 1, 0))):
        with Locations(Location((35.090541187, -57.469391565, 0), (0, 0, 270))):
            Circle(SKETCH5_R)
        with Locations(Location((35.090541187, 72.530608435, 0), (0, 0, 270))):
            Circle(SKETCH5_R)
    support_moteur_mounting_inside_original = extrude(amount=-SUPPORT_MOTEUR_MOUNTING_INSIDE_ORIGINAL_DEPTH, mode=Mode.SUBTRACT)

    # Support Moteur Mounting Inside-Sym_xL: Support Moteur Mounting Inside-Original across plane
    add(support_moteur_mounting_inside_original.mirror(Plane(origin=(0, 0, 0), x_dir=(0, 0, 1), z_dir=(1, 0, 0))), mode=Mode.SUBTRACT)

    # Sketch13 → Scrollers Mountings (cut)
    with BuildSketch(Plane(origin=(0, 5, 0), x_dir=(1, 0, 0), z_dir=(0, 1, 0))):
        with Locations(Location((0, -80, 0), (0, 0, 270))):
            Circle(SKETCH13_R)
        with Locations(Location((19.5, -80, 0), (0, 0, 270))):
            Circle(SKETCH13_R_2)
        with Locations(Location((-19.5, -80, 0), (0, 0, 270))):
            Circle(SKETCH13_R_2)
        with Locations(Location((0, 80, 0), (0, 0, 270))):
            Circle(SKETCH13_R)
        with Locations(Location((19.5, 80, 0), (0, 0, 270))):
            Circle(SKETCH13_R_2)
        with Locations(Location((-19.5, 80, 0), (0, 0, 270))):
            Circle(SKETCH13_R_2)
    extrude(amount=-SCROLLERS_MOUNTINGS_DEPTH, mode=Mode.SUBTRACT)

    # Chamfer1
    chamfer1_edges = [part.edges().sort_by_distance(p)[0] for p in [
        (147.5, 2.5, 130),
        (-147.5, 2.5, 130),
        (-147.5, 2.5, -130),
        (147.5, 2.5, -130),
    ]]
    chamfer(chamfer1_edges, length=CHAMFER1_SIZE)

    # Fillet1
    fillet1_edges = [part.edges().sort_by_distance(p)[0] for p in [
        (-123.5, 2.5, -130),
        (123.5, 2.5, -130),
        (147.5, 2.5, -106),
        (-147.5, 2.5, -106),
        (147.5, 2.5, 106),
        (-123.5, 2.5, 130),
        (123.5, 2.5, 130),
        (-147.5, 2.5, 106),
    ]]
    fillet(fillet1_edges, radius=FILLET1_R)

    # Esquisse1 → Enl_v. mat.-Extru.1 (cut, through all)
    with BuildSketch(Plane(origin=(0, 5, 0), x_dir=(1, 0, 0), z_dir=(0, 1, 0))):
        with Locations((0, 115)):
            Rectangle(ESQUISSE1_W, ESQUISSE1_H)
    enl_v_mat_extru_1 = extrude(amount=-ENL_V_MAT_EXTRU_1_DEPTH, mode=Mode.SUBTRACT)

    # Chanfrein1
    chanfrein1_edges = [part.edges().sort_by_distance(p)[0] for p in [
        (60, 2.5, -130),
        (60, 2.5, -100),
        (-60, 2.5, -100),
        (-60, 2.5, -130),
    ]]
    chamfer(chanfrein1_edges, length=CHANFREIN1_SIZE)

    # Cong_1
    cong_1_edges = [part.edges().sort_by_distance(p)[0] for p in [
        (50, 2.5, -100),
        (-50, 2.5, -100),
        (-60, 2.5, -120),
        (-60, 2.5, -110),
        (60, 2.5, -120),
        (60, 2.5, -110),
        (-70, 2.5, -130),
        (70, 2.5, -130),
    ]]
    fillet(cong_1_edges, radius=CONG_1_R)

    # Sym_trie1: Enl_v. mat.-Extru.1 across plane
    add(enl_v_mat_extru_1.mirror(Plane.XY), mode=Mode.SUBTRACT)

    # Chanfrein2
    chanfrein2_edges = [part.edges().sort_by_distance(p)[0] for p in [
        (60, 2.5, 100),
        (60, 2.5, 130),
        (-60, 2.5, 130),
        (-60, 2.5, 100),
    ]]
    chamfer(chanfrein2_edges, length=CHANFREIN2_SIZE)

    # Cong_2
    cong_2_edges = [part.edges().sort_by_distance(p)[0] for p in [
        (-70, 2.5, 130),
        (-60, 2.5, 110),
        (-60, 2.5, 120),
        (50, 2.5, 100),
        (-50, 2.5, 100),
        (60, 2.5, 120),
        (60, 2.5, 110),
        (70, 2.5, 130),
    ]]
    fillet(cong_2_edges, radius=CONG_2_R)

    # Esquisse2 → Enl_v. mat.-Extru.2 (cut, through all)
    with BuildSketch(Plane(origin=(0, 5, 0), x_dir=(1, 0, 0), z_dir=(0, 1, 0))):
        with Locations(Location((117.75, 86.5, 0), (0, 0, 270))):
            Circle(ESQUISSE2_R)
        with Locations(Location((127.75, 86.5, 0), (0, 0, 270))):
            Circle(ESQUISSE2_R)
    enl_v_mat_extru_2 = extrude(amount=-ENL_V_MAT_EXTRU_2_DEPTH, mode=Mode.SUBTRACT)

    # Esquisse3 → Enl_v. mat.-Extru.3 (cut, through all)
    with BuildSketch(Plane(origin=(0, 5, 0), x_dir=(1, 0, 0), z_dir=(0, 1, 0))):
        with Locations(Location((104, 109.45, 0), (0, 0, 270))):
            Circle(ESQUISSE3_R)
        with Locations(Location((104, 99.45, 0), (0, 0, 270))):
            Circle(ESQUISSE3_R)
    enl_v_mat_extru_3 = extrude(amount=-ENL_V_MAT_EXTRU_3_DEPTH, mode=Mode.SUBTRACT)

    # Esquisse4 → Enl_v. mat.-Extru.4 (cut, through all)
    with BuildSketch(Plane(origin=(0, 5, 0), x_dir=(1, 0, 0), z_dir=(0, 1, 0))):
        with Locations(Location((-126.75, 86.5, 0), (0, 0, 270))):
            Circle(ESQUISSE4_R)
        with Locations(Location((-116.75, 86.5, 0), (0, 0, 270))):
            Circle(ESQUISSE4_R)
    enl_v_mat_extru_4 = extrude(amount=-ENL_V_MAT_EXTRU_4_DEPTH, mode=Mode.SUBTRACT)

    # Esquisse5 → Enl_v. mat.-Extru.5 (cut, through all)
    with BuildSketch(Plane(origin=(0, 5, 0), x_dir=(1, 0, 0), z_dir=(0, 1, 0))):
        with Locations(Location((-104, -99.25, 0), (0, 0, 270))):
            Circle(ESQUISSE5_R)
        with Locations(Location((-104, -109.25, 0), (0, 0, 270))):
            Circle(ESQUISSE5_R)
    extrude(amount=-ENL_V_MAT_EXTRU_5_DEPTH, mode=Mode.SUBTRACT)

    # Sym_trie2: Enl_v. mat.-Extru.2, Enl_v. mat.-Extru.3 across plane
    add(enl_v_mat_extru_2.mirror(Plane.XY), mode=Mode.SUBTRACT)
    add(enl_v_mat_extru_3.mirror(Plane.XY), mode=Mode.SUBTRACT)

    # Sym_trie3: Enl_v. mat.-Extru.3 across plane
    add(enl_v_mat_extru_3.mirror(Plane(origin=(0, 0, 0), x_dir=(0, 0, 1), z_dir=(1, 0, 0))), mode=Mode.SUBTRACT)

    # Sym_trie4: Enl_v. mat.-Extru.4 across plane
    add(enl_v_mat_extru_4.mirror(Plane.XY), mode=Mode.SUBTRACT)


solid = part.part
